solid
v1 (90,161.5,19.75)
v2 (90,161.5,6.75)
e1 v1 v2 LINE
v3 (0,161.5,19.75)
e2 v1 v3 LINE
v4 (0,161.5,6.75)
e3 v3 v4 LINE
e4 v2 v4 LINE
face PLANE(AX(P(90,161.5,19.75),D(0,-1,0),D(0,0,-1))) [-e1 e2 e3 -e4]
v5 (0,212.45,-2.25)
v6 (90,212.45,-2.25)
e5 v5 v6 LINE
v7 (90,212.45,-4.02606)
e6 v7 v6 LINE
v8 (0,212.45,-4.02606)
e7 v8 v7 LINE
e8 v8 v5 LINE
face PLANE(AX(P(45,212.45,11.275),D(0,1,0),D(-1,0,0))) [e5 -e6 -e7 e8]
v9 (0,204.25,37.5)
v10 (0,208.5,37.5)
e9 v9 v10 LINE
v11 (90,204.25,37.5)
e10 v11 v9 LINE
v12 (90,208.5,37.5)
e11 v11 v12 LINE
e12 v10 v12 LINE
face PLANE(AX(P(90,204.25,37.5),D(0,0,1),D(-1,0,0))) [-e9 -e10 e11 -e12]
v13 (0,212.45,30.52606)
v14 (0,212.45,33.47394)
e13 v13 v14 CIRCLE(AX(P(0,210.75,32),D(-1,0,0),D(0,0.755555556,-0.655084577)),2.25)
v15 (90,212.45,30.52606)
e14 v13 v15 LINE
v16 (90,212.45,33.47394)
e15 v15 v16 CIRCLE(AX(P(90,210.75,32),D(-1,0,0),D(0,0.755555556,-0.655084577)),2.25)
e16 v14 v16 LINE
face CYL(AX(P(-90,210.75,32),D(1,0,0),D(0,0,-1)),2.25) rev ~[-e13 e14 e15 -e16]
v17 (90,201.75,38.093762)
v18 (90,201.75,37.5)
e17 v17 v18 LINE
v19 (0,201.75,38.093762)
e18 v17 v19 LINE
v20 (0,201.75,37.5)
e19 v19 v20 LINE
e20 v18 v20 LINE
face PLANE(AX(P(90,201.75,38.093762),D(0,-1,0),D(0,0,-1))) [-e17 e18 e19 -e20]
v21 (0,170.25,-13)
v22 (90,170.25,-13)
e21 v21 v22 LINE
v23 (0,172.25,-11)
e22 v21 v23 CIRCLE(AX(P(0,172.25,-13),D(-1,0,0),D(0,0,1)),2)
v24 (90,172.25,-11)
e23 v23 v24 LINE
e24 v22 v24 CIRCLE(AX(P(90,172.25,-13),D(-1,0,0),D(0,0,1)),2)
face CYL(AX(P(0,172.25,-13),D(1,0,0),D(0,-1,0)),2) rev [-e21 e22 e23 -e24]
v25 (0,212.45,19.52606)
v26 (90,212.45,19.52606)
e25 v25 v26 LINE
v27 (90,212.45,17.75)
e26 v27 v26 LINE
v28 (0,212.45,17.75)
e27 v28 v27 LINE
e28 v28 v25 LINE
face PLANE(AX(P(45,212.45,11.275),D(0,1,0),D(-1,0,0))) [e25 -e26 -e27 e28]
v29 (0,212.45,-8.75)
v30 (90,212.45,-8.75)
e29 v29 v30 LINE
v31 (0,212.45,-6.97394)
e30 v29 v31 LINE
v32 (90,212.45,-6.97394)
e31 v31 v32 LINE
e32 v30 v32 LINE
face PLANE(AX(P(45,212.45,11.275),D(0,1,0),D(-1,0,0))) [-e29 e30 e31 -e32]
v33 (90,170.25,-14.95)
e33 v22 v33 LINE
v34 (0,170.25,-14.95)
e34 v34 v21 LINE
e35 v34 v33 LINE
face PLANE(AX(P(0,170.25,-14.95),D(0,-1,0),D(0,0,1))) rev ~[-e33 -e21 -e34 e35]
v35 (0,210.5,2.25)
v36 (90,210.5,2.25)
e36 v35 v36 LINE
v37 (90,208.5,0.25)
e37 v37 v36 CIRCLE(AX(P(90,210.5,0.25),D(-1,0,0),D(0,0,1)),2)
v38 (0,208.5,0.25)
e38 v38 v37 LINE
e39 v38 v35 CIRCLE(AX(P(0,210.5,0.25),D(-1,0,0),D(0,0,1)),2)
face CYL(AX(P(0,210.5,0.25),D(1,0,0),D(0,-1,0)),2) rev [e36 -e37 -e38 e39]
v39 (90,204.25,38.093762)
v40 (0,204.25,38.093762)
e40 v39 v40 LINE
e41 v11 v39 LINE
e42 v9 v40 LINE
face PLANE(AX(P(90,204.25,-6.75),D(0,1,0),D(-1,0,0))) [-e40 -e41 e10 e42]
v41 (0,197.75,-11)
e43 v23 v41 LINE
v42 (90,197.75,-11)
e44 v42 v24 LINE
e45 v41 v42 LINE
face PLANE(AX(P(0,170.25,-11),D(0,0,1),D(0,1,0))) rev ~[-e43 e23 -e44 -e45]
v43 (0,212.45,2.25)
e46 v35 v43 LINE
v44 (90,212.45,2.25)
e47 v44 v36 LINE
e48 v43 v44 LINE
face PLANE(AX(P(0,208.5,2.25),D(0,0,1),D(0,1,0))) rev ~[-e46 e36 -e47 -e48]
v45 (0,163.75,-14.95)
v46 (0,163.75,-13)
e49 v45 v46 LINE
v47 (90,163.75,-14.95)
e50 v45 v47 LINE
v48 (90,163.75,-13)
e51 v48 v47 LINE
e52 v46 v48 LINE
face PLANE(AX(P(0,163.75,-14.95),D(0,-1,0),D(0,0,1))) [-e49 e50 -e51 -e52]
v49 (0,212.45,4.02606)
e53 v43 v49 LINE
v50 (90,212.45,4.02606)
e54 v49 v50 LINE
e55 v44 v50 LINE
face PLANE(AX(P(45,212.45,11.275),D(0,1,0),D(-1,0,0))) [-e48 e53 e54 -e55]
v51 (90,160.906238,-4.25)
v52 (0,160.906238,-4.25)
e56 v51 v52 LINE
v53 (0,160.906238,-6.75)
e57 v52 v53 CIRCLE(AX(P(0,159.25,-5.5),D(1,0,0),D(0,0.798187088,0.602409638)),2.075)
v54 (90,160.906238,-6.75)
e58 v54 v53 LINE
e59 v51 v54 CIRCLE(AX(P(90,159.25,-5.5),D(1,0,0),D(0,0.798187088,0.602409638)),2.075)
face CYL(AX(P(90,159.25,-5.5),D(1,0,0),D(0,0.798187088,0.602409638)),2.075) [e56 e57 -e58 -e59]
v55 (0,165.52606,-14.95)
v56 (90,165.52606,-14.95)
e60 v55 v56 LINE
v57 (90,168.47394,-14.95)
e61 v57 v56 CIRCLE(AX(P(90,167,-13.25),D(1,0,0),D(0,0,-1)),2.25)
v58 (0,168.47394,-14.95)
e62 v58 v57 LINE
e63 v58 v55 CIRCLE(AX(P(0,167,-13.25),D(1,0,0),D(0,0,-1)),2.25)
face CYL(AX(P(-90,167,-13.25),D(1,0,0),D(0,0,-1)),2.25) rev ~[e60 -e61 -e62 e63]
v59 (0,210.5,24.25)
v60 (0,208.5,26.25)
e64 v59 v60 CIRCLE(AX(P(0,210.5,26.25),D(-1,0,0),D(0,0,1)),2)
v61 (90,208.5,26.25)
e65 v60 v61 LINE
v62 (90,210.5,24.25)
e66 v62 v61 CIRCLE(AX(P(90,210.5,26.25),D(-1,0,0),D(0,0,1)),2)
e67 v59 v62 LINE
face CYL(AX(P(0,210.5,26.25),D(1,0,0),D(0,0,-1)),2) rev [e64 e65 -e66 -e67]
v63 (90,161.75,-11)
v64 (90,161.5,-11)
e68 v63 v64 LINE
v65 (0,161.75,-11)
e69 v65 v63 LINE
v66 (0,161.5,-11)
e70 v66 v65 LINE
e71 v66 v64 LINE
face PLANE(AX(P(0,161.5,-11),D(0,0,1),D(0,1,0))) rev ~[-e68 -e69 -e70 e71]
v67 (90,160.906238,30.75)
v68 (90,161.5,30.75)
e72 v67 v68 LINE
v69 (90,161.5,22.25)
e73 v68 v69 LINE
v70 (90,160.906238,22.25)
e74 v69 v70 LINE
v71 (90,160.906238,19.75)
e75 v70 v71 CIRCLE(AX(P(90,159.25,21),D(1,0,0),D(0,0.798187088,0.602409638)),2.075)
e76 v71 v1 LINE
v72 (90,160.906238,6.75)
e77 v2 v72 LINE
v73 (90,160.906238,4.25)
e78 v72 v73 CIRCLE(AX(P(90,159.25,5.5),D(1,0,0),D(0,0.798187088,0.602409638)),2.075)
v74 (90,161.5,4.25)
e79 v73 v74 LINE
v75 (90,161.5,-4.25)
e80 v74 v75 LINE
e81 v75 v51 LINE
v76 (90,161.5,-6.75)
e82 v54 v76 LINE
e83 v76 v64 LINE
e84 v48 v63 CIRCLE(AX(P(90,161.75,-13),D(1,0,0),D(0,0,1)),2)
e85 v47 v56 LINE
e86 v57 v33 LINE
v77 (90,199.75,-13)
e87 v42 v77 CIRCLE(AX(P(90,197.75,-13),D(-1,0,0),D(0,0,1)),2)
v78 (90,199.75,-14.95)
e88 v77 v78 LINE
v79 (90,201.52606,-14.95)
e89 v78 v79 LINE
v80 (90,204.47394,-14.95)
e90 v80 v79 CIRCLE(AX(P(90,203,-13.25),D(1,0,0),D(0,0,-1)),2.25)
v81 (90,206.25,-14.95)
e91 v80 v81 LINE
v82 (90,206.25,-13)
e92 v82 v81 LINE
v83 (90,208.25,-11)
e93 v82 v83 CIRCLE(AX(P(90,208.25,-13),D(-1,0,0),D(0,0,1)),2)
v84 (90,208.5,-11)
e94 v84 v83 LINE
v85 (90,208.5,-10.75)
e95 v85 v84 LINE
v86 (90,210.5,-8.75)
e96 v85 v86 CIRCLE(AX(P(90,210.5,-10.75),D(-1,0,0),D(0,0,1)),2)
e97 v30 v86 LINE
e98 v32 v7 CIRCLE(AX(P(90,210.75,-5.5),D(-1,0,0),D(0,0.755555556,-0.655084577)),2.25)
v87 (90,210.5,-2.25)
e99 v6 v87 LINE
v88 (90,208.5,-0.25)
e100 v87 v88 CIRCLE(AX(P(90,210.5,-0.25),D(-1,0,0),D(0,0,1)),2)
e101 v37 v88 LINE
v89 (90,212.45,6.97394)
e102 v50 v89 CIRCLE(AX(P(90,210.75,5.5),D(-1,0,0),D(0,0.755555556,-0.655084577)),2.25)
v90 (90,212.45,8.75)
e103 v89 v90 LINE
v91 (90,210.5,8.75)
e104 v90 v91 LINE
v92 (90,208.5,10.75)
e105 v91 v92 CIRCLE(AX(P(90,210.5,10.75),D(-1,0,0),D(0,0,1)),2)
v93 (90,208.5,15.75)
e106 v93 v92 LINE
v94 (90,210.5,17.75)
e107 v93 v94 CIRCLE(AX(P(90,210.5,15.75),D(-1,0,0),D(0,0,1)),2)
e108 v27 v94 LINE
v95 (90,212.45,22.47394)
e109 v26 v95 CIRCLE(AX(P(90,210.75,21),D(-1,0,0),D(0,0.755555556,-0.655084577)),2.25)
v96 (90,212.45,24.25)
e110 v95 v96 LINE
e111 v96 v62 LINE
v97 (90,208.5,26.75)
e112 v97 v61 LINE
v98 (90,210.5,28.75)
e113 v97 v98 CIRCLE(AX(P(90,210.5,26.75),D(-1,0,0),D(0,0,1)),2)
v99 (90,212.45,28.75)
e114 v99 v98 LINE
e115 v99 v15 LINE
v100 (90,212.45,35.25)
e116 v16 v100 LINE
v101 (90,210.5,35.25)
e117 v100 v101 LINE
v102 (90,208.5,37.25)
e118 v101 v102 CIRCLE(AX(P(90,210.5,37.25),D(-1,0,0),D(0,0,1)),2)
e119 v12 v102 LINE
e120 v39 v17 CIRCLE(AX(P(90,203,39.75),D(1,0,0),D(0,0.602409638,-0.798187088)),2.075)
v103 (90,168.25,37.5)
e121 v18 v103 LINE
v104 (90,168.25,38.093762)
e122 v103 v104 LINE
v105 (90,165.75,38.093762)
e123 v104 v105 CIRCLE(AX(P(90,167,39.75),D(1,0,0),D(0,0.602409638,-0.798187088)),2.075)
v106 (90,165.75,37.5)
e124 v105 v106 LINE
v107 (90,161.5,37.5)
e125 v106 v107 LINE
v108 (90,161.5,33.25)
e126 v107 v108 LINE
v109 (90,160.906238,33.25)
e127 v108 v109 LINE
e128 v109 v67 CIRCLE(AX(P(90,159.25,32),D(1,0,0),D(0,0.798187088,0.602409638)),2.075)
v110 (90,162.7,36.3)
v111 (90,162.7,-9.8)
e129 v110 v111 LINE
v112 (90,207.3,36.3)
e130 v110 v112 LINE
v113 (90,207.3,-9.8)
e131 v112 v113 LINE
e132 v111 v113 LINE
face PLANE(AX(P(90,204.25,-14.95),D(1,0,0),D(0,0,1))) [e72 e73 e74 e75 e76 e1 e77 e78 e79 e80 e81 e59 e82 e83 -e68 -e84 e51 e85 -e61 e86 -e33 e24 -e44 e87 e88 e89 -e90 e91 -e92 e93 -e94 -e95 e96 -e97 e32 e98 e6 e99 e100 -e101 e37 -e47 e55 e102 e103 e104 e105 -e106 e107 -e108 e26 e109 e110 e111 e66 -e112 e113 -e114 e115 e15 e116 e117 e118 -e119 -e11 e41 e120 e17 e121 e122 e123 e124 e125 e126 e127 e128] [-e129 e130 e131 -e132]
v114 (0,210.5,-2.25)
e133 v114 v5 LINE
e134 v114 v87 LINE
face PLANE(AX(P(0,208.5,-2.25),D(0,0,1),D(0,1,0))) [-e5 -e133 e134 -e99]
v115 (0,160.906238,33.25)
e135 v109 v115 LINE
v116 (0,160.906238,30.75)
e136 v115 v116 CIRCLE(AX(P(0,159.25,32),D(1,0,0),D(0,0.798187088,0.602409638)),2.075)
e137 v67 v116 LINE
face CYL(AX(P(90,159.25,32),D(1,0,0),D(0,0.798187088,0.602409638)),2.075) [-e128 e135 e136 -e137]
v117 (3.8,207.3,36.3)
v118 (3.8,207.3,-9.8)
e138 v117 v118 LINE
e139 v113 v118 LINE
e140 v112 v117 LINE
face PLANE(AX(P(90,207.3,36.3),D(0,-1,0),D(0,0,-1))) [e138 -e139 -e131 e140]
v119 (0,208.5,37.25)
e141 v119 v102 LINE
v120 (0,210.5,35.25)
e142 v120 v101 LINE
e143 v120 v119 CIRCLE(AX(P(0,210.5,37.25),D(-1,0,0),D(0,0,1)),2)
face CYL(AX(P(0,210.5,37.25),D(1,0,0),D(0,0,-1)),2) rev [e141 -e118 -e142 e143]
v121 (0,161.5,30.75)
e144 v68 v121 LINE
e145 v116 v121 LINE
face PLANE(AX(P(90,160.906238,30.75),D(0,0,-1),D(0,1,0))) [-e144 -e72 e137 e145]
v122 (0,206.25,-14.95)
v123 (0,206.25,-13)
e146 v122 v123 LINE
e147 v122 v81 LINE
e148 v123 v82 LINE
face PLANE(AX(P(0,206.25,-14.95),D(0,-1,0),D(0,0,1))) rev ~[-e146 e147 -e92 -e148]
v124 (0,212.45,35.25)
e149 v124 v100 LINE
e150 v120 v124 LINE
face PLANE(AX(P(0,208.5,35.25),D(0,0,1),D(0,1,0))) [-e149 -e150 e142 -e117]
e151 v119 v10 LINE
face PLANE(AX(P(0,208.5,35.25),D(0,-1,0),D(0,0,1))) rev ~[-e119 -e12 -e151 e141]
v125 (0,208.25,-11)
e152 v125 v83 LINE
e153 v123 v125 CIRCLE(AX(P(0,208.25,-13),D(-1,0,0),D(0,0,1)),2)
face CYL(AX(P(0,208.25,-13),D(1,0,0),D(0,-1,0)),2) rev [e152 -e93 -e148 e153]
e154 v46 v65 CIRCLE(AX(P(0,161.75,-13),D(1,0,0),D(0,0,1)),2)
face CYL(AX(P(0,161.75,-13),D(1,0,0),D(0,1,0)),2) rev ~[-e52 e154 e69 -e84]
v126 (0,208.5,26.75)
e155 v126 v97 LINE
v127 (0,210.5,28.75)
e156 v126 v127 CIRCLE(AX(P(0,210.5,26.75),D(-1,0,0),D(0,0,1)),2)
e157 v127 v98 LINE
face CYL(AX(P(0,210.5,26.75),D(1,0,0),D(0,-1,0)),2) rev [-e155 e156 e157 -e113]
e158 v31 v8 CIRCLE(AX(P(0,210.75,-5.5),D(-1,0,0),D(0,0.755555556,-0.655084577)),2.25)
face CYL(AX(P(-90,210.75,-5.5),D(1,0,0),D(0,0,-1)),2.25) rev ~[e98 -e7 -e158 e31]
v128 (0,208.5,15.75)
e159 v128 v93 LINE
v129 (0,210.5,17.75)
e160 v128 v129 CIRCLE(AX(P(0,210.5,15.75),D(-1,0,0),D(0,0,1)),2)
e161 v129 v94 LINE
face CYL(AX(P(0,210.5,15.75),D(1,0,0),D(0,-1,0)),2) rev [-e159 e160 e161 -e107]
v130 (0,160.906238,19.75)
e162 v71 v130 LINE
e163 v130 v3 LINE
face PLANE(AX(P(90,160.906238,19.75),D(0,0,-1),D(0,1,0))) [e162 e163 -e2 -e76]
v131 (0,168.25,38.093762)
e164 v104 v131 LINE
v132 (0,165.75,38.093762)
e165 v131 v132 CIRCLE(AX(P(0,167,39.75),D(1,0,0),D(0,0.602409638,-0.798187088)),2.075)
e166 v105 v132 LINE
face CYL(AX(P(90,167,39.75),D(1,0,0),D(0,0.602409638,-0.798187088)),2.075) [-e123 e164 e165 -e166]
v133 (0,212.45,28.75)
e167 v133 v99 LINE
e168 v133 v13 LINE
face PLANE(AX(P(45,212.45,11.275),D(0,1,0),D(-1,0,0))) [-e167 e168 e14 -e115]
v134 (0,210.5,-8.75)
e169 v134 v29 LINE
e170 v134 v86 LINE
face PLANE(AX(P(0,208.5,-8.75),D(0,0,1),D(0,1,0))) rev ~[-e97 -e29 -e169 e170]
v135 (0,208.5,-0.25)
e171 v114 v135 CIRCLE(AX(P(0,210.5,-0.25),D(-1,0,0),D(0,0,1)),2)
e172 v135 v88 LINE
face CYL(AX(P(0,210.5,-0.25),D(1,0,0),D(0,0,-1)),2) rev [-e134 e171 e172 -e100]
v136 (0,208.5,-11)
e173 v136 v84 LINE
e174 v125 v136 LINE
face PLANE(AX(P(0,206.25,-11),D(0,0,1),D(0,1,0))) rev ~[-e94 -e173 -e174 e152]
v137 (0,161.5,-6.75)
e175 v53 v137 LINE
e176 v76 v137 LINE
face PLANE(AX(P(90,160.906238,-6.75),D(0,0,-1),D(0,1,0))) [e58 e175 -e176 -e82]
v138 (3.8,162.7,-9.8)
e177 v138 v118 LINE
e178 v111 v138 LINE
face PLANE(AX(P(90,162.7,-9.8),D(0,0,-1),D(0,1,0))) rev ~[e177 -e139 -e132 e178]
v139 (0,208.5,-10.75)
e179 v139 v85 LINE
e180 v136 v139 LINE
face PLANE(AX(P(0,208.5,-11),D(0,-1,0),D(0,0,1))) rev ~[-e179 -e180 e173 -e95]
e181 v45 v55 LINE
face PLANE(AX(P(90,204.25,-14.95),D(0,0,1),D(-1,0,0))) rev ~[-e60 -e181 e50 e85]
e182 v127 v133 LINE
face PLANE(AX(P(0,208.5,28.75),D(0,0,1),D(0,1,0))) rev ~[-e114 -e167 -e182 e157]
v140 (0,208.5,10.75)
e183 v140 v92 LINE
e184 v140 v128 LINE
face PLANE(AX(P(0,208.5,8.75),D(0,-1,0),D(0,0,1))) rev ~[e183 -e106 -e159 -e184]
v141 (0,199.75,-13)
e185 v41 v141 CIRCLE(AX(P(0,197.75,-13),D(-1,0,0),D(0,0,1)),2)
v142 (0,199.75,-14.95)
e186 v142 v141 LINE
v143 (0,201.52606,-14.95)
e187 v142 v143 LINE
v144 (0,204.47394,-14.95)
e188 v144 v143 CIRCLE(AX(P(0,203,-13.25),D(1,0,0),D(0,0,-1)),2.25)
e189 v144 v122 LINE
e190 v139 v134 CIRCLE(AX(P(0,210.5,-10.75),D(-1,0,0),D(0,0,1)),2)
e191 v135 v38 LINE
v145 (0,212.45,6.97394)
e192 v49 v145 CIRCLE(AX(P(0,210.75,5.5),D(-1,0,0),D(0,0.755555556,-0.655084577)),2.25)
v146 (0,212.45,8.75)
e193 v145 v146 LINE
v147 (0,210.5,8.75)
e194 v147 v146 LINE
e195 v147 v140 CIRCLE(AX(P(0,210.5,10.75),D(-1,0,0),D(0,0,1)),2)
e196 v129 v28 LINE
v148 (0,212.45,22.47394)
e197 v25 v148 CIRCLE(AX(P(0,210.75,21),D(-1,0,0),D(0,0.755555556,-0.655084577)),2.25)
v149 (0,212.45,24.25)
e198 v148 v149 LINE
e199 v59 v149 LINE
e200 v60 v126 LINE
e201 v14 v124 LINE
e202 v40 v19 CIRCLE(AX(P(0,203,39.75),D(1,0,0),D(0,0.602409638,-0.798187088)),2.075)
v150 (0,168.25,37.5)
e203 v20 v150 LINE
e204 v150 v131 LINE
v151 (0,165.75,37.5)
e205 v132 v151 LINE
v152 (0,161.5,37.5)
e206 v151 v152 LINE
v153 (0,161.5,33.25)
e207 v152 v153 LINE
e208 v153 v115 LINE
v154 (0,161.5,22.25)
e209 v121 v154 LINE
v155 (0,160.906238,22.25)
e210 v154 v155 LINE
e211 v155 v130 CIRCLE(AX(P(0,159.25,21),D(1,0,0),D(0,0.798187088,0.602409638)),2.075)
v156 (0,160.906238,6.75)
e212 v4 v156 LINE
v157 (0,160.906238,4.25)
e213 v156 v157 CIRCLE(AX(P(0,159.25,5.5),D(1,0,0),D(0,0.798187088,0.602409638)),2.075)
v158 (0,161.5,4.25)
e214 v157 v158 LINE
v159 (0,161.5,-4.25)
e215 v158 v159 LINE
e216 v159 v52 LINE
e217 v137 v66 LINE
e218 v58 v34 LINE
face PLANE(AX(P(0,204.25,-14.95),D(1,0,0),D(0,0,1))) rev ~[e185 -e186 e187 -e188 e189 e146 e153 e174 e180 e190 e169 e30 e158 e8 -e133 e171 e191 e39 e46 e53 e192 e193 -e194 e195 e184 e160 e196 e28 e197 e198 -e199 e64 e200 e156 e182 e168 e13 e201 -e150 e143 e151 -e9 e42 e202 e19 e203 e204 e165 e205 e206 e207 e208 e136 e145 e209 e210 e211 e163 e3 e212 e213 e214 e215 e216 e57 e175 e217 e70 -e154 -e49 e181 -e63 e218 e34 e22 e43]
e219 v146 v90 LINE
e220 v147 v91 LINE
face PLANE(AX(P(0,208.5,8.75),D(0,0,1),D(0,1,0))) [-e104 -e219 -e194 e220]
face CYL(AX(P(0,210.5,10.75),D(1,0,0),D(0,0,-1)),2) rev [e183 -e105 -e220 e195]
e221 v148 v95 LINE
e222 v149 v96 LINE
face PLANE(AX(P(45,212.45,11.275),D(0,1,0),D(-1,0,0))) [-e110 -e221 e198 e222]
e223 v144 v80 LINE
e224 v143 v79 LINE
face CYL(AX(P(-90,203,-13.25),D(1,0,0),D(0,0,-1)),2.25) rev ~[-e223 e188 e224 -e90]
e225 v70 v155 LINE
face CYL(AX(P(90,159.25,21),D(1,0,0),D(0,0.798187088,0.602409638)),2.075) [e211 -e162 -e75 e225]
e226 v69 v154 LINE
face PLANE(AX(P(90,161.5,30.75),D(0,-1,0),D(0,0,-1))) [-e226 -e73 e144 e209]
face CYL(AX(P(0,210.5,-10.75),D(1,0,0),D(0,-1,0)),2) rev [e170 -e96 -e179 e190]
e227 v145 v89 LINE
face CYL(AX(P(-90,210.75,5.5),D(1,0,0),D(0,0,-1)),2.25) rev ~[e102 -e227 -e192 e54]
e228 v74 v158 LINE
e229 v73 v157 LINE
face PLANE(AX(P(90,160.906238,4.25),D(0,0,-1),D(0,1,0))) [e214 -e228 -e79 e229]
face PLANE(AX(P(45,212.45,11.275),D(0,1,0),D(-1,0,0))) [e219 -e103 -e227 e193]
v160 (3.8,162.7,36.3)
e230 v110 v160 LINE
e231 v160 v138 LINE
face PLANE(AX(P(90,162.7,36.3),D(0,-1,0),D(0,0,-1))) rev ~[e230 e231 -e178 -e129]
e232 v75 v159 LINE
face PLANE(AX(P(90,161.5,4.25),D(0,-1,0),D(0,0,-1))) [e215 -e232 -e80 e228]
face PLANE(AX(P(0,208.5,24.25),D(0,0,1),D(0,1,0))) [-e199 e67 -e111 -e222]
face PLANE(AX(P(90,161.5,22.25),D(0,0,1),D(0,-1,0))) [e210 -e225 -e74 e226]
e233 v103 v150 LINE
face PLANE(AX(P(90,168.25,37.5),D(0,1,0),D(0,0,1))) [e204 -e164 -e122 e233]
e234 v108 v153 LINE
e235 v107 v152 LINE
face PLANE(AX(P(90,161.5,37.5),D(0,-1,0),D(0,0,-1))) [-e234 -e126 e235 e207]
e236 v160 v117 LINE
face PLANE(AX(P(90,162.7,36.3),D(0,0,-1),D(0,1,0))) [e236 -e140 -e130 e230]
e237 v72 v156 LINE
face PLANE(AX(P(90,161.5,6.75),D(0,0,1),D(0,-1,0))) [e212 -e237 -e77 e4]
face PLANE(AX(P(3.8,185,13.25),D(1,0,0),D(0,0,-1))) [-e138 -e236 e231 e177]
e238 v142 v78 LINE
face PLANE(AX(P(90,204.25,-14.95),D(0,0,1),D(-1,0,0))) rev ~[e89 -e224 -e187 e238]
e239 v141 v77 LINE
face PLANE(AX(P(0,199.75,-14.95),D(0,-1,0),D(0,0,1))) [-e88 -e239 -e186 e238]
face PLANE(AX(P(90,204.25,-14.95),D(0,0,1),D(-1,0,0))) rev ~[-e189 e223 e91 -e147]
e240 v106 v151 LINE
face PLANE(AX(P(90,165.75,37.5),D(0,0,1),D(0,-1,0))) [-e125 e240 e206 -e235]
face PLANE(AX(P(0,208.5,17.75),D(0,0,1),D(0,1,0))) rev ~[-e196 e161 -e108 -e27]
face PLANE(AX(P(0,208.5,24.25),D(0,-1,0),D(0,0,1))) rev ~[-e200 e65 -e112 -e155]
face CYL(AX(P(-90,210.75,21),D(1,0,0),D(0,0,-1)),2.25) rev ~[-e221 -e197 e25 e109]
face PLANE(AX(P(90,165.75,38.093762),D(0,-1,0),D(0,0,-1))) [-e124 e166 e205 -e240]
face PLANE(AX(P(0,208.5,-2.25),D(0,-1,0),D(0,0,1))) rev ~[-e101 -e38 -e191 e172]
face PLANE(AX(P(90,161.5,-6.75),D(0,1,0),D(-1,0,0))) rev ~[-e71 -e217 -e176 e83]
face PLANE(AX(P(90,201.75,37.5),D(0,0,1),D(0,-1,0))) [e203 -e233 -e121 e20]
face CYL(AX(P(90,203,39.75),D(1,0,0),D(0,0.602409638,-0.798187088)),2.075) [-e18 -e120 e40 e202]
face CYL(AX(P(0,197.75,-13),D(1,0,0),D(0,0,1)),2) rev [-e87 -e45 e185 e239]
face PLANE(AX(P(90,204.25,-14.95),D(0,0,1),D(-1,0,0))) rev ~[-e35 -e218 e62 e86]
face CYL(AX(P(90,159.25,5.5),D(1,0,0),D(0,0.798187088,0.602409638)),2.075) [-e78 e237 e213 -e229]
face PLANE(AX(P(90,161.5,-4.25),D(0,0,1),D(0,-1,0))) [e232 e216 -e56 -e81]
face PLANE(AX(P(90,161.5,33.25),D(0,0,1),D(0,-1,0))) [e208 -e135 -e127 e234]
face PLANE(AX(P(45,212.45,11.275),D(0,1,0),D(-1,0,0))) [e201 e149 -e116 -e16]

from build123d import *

# Parameters (mm, degrees)
EXTRUDE_1_DEPTH             = 90
SKETCH_2_W                  = 90
SKETCH_2_H                  = 42.75
EXTRUDE_2_DEPTH             = 8.2
SKETCH_3_W                  = 90
SKETCH_3_H                  = 52.45
EXTRUDE_3_DEPTH             = 8.2
SKETCH_4_W                  = 3.95
SKETCH_4_H                  = 2.25
CUT_EXTRUDE_1_DEPTH         = 91
SKETCH_5_W                  = 3.95
SKETCH_5_H                  = 29.5
CUT_EXTRUDE_2_DEPTH         = 91
SKETCH_6_W                  = 3.95
SKETCH_6_H                  = 6.2
CUT_EXTRUDE_3_DEPTH         = 91
SKETCH_7_W                  = 2.25
SKETCH_7_H                  = 3.95
CUT_EXTRUDE_4_DEPTH         = 91
SKETCH_8_W                  = 4.5
SKETCH_8_H                  = 3.95
CUT_EXTRUDE_5_DEPTH         = 91
SKETCH_9_W                  = 9
SKETCH_9_H                  = 3.95
CUT_EXTRUDE_6_DEPTH         = 91
SKETCH_10_W                 = 4.5
SKETCH_10_H                 = 3.95
CUT_EXTRUDE_7_DEPTH         = 91
SKETCH_11_W                 = 2.25
SKETCH_11_H                 = 3.95
CUT_EXTRUDE_8_DEPTH         = 91
SKETCH_12_W                 = 46.1
SKETCH_12_H                 = 44.6
CUT_EXTRUDE_9_DEPTH         = 86.2
HOLE_WIZARD_2_5_2_5_1_D     = 2.5
HOLE_WIZARD_2_5_2_5_1_DEPTH = 90
HOLE_WIZARD_4_5_4_5_1_D     = 4.5
HOLE_WIZARD_4_5_4_5_1_DEPTH = 90
SKETCH_19_R                 = 1.67252853
SKETCH_19_R_2               = 1.459159852
SKETCH_19_R_3               = 1.459908976
SKETCH_19_R_4               = 1.592821911
SKETCH_19_R_5               = 1.532216665
SKETCH_19_R_6               = 1.596138091
EXTRUDE_4_DEPTH             = 90
FILLET_1_R                  = 2
FILLET_2_R                  = 2
FILLET_3_R                  = 2
FILLET_4_R                  = 2
FILLET_5_R                  = 2
FILLET_6_R                  = 2
FILLET_7_R                  = 2
FILLET_8_R                  = 2
FILLET_9_R                  = 2
FILLET_10_R                 = 2
FILLET_11_R                 = 2
FILLET_12_R                 = 2


with BuildPart() as part:
    # Эскиз1 → Бобышка-Вытянуть1 (new body)
    with BuildSketch(Plane(origin=(90, 0, 0), x_dir=(0, 0, -1), z_dir=(1, 0, 0))):
        with BuildLine():
            Line((6.75, 160.906238208), (6.75, 204.25))
            Line((6.75, 204.25), (-38.093761792, 204.25))
            ThreePointArc((-38.093761792, 204.25), (-41.825, 203), (-38.093761792, 201.75))
            Line((-38.093761792, 201.75), (-37.5, 201.75))
            Line((-37.5, 201.75), (-37.5, 168.25))
            Line((-37.5, 168.25), (-38.093761792, 168.25))
            ThreePointArc((-38.093761792, 168.25), (-41.825, 167), (-38.093761792, 165.75))
            Line((-38.093761792, 165.75), (-37.5, 165.75))
            Line((-37.5, 165.75), (-37.5, 161.5))
            Line((-37.5, 161.5), (-33.25, 161.5))
            Line((-33.25, 161.5), (-33.25, 160.906238208))
            ThreePointArc((-33.25, 160.906238208), (-32, 157.175), (-30.75, 160.906238208))
            Line((-30.75, 160.906238208), (-30.75, 161.5))
            Line((-30.75, 161.5), (-22.25, 161.5))
            Line((-22.25, 161.5), (-22.25, 160.906238208))
            ThreePointArc((-22.25, 160.906238208), (-21, 157.175), (-19.75, 160.906238208))
            Line((-19.75, 160.906238208), (-19.75, 161.5))
            Line((-19.75, 161.5), (-6.75, 161.5))
            Line((-6.75, 161.5), (-6.75, 160.906238208))
            ThreePointArc((-6.75, 160.906238208), (-5.5, 157.175), (-4.25, 160.906238208))
            Line((-4.25, 160.906238208), (-4.25, 161.5))
            Line((-4.25, 161.5), (4.25, 161.5))
            Line((4.25, 161.5), (4.25, 160.906238208))
            ThreePointArc((4.25, 160.906238208), (5.5, 157.175), (6.75, 160.906238208))
        make_face()
    extrude(amount=-EXTRUDE_1_DEPTH)

    # Эскиз2 → Бобышка-Вытянуть2 (add)
    with BuildSketch(Plane(origin=(0, 0, -6.75), x_dir=(-1, 0, 0), z_dir=(0, 0, -1))):
        with Locations((-45, 182.875)):
            Rectangle(SKETCH_2_W, SKETCH_2_H)
    extrude(amount=EXTRUDE_2_DEPTH)

    # Эскиз3 → Бобышка-Вытянуть3 (add)
    with BuildSketch(Plane(origin=(0, 204.25, 0), x_dir=(-1, 0, 0), z_dir=(0, 1, 0))):
        with Locations((-45, 11.275)):
            Rectangle(SKETCH_3_W, SKETCH_3_H)
    extrude(amount=EXTRUDE_3_DEPTH)

    # Эскиз4 → Вырез-Вытянуть1 (cut, through all)
    with BuildSketch(Plane.ZY):
        with Locations((-12.975, 162.625)):
            Rectangle(SKETCH_4_W, SKETCH_4_H)
    extrude(amount=-CUT_EXTRUDE_1_DEPTH, mode=Mode.SUBTRACT)

    # Эскиз5 → Вырез-Вытянуть2 (cut, through all)
    with BuildSketch(Plane.ZY):
        with Locations((-12.975, 185)):
            Rectangle(SKETCH_5_W, SKETCH_5_H)
    extrude(amount=-CUT_EXTRUDE_2_DEPTH, mode=Mode.SUBTRACT)

    # Эскиз6 → Вырез-Вытянуть3 (cut, through all)
    with BuildSketch(Plane.ZY):
        with Locations((-12.975, 209.35)):
            Rectangle(SKETCH_6_W, SKETCH_6_H)
    extrude(amount=-CUT_EXTRUDE_3_DEPTH, mode=Mode.SUBTRACT)

    # Эскиз7 → Вырез-Вытянуть4 (cut, through all)
    with BuildSketch(Plane.ZY):
        with Locations((-9.875, 210.475)):
            Rectangle(SKETCH_7_W, SKETCH_7_H)
    extrude(amount=-CUT_EXTRUDE_4_DEPTH, mode=Mode.SUBTRACT)

    # Эскиз8 → Вырез-Вытянуть5 (cut, through all)
    with BuildSketch(Plane.ZY):
        with Locations((0, 210.475)):
            Rectangle(SKETCH_8_W, SKETCH_8_H)
    extrude(amount=-CUT_EXTRUDE_5_DEPTH, mode=Mode.SUBTRACT)

    # Эскиз9 → Вырез-Вытянуть6 (cut, through all)
    with BuildSketch(Plane.ZY):
        with Locations((13.25, 210.475)):
            Rectangle(SKETCH_9_W, SKETCH_9_H)
    extrude(amount=-CUT_EXTRUDE_6_DEPTH, mode=Mode.SUBTRACT)

    # Эскиз10 → Вырез-Вытянуть7 (cut, through all)
    with BuildSketch(Plane.ZY):
        with Locations((26.5, 210.475)):
            Rectangle(SKETCH_10_W, SKETCH_10_H)
    extrude(amount=-CUT_EXTRUDE_7_DEPTH, mode=Mode.SUBTRACT)

    # Эскиз11 → Вырез-Вытянуть8 (cut, through all)
    with BuildSketch(Plane.ZY):
        with Locations((36.375, 210.475)):
            Rectangle(SKETCH_11_W, SKETCH_11_H)
    extrude(amount=-CUT_EXTRUDE_8_DEPTH, mode=Mode.SUBTRACT)

    # Эскиз12 → Вырез-Вытянуть9 (cut)
    with BuildSketch(Plane(origin=(90, 0, 0), x_dir=(0, 0, -1), z_dir=(1, 0, 0))):
        with Locations((-13.25, 185)):
            Rectangle(SKETCH_12_W, SKETCH_12_H)
    extrude(amount=-CUT_EXTRUDE_9_DEPTH, mode=Mode.SUBTRACT)

    # Диаметр отверстия Ø2.5 (2.5)1
    with Locations(Plane(origin=(90, 0, 0), x_dir=(0, 0, -1), z_dir=(1, 0, 0))):
        with Locations((5.5, 159.25), (-21, 159.25), (-5.5, 159.25), (-32, 159.25), (-39.75, 167), (-39.75, 203)):
            Hole(HOLE_WIZARD_2_5_2_5_1_D / 2, depth=HOLE_WIZARD_2_5_2_5_1_DEPTH)

    # Диаметр отверстия Ø4.5 (4.5)1
    with Locations(Plane.ZY):
        with Locations((-13.25, 167), (-13.25, 203), (-5.5, 210.75), (5.5, 210.75), (21, 210.75), (32, 210.75)):
            Hole(HOLE_WIZARD_4_5_4_5_1_D / 2, depth=HOLE_WIZARD_4_5_4_5_1_DEPTH)

    # Эскиз19 → Бобышка-Вытянуть4 (add)
    with BuildSketch(Plane(origin=(90, 0, 0), x_dir=(0, 0, -1), z_dir=(1, 0, 0))):
        with Locations((-39.75, 203)):
            Circle(SKETCH_19_R)
        with Locations((-39.75, 167)):
            Circle(SKETCH_19_R_2)
        with Locations((-32, 159.25)):
            Circle(SKETCH_19_R_3)
        with Locations((-21, 159.25)):
            Circle(SKETCH_19_R_4)
        with Locations((-5.5, 159.25)):
            Circle(SKETCH_19_R_5)
        with Locations((5.5, 159.25)):
            Circle(SKETCH_19_R_6)
    extrude(amount=-EXTRUDE_4_DEPTH)

    # Скругление1
    fillet_1_edges = [part.edges().sort_by_distance(p)[0] for p in [
        (45, 208.5, -8.75),
    ]]
    fillet(fillet_1_edges, radius=FILLET_1_R)

    # Скругление2
    fillet_2_edges = [part.edges().sort_by_distance(p)[0] for p in [
        (45, 163.75, -11),
    ]]
    fillet(fillet_2_edges, radius=FILLET_2_R)

    # Скругление3
    fillet_3_edges = [part.edges().sort_by_distance(p)[0] for p in [
        (45, 170.25, -11),
    ]]
    fillet(fillet_3_edges, radius=FILLET_3_R)

    # Скругление4
    fillet_4_edges = [part.edges().sort_by_distance(p)[0] for p in [
        (45, 199.75, -11),
    ]]
    fillet(fillet_4_edges, radius=FILLET_4_R)

    # Скругление5
    fillet_5_edges = [part.edges().sort_by_distance(p)[0] for p in [
        (45, 206.25, -11),
    ]]
    fillet(fillet_5_edges, radius=FILLET_5_R)

    # Скругление6
    fillet_6_edges = [part.edges().sort_by_distance(p)[0] for p in [
        (45, 208.5, -2.25),
    ]]
    fillet(fillet_6_edges, radius=FILLET_6_R)

    # Скругление7
    fillet_7_edges = [part.edges().sort_by_distance(p)[0] for p in [
        (45, 208.5, 2.25),
    ]]
    fillet(fillet_7_edges, radius=FILLET_7_R)

    # Скругление8
    fillet_8_edges = [part.edges().sort_by_distance(p)[0] for p in [
        (45, 208.5, 8.75),
    ]]
    fillet(fillet_8_edges, radius=FILLET_8_R)

    # Скругление9
    fillet_9_edges = [part.edges().sort_by_distance(p)[0] for p in [
        (45, 208.5, 17.75),
    ]]
    fillet(fillet_9_edges, radius=FILLET_9_R)

    # Скругление10
    fillet_10_edges = [part.edges().sort_by_distance(p)[0] for p in [
        (45, 208.5, 24.25),
    ]]
    fillet(fillet_10_edges, radius=FILLET_10_R)

    # Скругление11
    fillet_11_edges = [part.edges().sort_by_distance(p)[0] for p in [
        (45, 208.5, 28.75),
    ]]
    fillet(fillet_11_edges, radius=FILLET_11_R)

    # Скругление12
    fillet_12_edges = [part.edges().sort_by_distance(p)[0] for p in [
        (45, 208.5, 35.25),
    ]]
    fillet(fillet_12_edges, radius=FILLET_12_R)


solid = part.part
